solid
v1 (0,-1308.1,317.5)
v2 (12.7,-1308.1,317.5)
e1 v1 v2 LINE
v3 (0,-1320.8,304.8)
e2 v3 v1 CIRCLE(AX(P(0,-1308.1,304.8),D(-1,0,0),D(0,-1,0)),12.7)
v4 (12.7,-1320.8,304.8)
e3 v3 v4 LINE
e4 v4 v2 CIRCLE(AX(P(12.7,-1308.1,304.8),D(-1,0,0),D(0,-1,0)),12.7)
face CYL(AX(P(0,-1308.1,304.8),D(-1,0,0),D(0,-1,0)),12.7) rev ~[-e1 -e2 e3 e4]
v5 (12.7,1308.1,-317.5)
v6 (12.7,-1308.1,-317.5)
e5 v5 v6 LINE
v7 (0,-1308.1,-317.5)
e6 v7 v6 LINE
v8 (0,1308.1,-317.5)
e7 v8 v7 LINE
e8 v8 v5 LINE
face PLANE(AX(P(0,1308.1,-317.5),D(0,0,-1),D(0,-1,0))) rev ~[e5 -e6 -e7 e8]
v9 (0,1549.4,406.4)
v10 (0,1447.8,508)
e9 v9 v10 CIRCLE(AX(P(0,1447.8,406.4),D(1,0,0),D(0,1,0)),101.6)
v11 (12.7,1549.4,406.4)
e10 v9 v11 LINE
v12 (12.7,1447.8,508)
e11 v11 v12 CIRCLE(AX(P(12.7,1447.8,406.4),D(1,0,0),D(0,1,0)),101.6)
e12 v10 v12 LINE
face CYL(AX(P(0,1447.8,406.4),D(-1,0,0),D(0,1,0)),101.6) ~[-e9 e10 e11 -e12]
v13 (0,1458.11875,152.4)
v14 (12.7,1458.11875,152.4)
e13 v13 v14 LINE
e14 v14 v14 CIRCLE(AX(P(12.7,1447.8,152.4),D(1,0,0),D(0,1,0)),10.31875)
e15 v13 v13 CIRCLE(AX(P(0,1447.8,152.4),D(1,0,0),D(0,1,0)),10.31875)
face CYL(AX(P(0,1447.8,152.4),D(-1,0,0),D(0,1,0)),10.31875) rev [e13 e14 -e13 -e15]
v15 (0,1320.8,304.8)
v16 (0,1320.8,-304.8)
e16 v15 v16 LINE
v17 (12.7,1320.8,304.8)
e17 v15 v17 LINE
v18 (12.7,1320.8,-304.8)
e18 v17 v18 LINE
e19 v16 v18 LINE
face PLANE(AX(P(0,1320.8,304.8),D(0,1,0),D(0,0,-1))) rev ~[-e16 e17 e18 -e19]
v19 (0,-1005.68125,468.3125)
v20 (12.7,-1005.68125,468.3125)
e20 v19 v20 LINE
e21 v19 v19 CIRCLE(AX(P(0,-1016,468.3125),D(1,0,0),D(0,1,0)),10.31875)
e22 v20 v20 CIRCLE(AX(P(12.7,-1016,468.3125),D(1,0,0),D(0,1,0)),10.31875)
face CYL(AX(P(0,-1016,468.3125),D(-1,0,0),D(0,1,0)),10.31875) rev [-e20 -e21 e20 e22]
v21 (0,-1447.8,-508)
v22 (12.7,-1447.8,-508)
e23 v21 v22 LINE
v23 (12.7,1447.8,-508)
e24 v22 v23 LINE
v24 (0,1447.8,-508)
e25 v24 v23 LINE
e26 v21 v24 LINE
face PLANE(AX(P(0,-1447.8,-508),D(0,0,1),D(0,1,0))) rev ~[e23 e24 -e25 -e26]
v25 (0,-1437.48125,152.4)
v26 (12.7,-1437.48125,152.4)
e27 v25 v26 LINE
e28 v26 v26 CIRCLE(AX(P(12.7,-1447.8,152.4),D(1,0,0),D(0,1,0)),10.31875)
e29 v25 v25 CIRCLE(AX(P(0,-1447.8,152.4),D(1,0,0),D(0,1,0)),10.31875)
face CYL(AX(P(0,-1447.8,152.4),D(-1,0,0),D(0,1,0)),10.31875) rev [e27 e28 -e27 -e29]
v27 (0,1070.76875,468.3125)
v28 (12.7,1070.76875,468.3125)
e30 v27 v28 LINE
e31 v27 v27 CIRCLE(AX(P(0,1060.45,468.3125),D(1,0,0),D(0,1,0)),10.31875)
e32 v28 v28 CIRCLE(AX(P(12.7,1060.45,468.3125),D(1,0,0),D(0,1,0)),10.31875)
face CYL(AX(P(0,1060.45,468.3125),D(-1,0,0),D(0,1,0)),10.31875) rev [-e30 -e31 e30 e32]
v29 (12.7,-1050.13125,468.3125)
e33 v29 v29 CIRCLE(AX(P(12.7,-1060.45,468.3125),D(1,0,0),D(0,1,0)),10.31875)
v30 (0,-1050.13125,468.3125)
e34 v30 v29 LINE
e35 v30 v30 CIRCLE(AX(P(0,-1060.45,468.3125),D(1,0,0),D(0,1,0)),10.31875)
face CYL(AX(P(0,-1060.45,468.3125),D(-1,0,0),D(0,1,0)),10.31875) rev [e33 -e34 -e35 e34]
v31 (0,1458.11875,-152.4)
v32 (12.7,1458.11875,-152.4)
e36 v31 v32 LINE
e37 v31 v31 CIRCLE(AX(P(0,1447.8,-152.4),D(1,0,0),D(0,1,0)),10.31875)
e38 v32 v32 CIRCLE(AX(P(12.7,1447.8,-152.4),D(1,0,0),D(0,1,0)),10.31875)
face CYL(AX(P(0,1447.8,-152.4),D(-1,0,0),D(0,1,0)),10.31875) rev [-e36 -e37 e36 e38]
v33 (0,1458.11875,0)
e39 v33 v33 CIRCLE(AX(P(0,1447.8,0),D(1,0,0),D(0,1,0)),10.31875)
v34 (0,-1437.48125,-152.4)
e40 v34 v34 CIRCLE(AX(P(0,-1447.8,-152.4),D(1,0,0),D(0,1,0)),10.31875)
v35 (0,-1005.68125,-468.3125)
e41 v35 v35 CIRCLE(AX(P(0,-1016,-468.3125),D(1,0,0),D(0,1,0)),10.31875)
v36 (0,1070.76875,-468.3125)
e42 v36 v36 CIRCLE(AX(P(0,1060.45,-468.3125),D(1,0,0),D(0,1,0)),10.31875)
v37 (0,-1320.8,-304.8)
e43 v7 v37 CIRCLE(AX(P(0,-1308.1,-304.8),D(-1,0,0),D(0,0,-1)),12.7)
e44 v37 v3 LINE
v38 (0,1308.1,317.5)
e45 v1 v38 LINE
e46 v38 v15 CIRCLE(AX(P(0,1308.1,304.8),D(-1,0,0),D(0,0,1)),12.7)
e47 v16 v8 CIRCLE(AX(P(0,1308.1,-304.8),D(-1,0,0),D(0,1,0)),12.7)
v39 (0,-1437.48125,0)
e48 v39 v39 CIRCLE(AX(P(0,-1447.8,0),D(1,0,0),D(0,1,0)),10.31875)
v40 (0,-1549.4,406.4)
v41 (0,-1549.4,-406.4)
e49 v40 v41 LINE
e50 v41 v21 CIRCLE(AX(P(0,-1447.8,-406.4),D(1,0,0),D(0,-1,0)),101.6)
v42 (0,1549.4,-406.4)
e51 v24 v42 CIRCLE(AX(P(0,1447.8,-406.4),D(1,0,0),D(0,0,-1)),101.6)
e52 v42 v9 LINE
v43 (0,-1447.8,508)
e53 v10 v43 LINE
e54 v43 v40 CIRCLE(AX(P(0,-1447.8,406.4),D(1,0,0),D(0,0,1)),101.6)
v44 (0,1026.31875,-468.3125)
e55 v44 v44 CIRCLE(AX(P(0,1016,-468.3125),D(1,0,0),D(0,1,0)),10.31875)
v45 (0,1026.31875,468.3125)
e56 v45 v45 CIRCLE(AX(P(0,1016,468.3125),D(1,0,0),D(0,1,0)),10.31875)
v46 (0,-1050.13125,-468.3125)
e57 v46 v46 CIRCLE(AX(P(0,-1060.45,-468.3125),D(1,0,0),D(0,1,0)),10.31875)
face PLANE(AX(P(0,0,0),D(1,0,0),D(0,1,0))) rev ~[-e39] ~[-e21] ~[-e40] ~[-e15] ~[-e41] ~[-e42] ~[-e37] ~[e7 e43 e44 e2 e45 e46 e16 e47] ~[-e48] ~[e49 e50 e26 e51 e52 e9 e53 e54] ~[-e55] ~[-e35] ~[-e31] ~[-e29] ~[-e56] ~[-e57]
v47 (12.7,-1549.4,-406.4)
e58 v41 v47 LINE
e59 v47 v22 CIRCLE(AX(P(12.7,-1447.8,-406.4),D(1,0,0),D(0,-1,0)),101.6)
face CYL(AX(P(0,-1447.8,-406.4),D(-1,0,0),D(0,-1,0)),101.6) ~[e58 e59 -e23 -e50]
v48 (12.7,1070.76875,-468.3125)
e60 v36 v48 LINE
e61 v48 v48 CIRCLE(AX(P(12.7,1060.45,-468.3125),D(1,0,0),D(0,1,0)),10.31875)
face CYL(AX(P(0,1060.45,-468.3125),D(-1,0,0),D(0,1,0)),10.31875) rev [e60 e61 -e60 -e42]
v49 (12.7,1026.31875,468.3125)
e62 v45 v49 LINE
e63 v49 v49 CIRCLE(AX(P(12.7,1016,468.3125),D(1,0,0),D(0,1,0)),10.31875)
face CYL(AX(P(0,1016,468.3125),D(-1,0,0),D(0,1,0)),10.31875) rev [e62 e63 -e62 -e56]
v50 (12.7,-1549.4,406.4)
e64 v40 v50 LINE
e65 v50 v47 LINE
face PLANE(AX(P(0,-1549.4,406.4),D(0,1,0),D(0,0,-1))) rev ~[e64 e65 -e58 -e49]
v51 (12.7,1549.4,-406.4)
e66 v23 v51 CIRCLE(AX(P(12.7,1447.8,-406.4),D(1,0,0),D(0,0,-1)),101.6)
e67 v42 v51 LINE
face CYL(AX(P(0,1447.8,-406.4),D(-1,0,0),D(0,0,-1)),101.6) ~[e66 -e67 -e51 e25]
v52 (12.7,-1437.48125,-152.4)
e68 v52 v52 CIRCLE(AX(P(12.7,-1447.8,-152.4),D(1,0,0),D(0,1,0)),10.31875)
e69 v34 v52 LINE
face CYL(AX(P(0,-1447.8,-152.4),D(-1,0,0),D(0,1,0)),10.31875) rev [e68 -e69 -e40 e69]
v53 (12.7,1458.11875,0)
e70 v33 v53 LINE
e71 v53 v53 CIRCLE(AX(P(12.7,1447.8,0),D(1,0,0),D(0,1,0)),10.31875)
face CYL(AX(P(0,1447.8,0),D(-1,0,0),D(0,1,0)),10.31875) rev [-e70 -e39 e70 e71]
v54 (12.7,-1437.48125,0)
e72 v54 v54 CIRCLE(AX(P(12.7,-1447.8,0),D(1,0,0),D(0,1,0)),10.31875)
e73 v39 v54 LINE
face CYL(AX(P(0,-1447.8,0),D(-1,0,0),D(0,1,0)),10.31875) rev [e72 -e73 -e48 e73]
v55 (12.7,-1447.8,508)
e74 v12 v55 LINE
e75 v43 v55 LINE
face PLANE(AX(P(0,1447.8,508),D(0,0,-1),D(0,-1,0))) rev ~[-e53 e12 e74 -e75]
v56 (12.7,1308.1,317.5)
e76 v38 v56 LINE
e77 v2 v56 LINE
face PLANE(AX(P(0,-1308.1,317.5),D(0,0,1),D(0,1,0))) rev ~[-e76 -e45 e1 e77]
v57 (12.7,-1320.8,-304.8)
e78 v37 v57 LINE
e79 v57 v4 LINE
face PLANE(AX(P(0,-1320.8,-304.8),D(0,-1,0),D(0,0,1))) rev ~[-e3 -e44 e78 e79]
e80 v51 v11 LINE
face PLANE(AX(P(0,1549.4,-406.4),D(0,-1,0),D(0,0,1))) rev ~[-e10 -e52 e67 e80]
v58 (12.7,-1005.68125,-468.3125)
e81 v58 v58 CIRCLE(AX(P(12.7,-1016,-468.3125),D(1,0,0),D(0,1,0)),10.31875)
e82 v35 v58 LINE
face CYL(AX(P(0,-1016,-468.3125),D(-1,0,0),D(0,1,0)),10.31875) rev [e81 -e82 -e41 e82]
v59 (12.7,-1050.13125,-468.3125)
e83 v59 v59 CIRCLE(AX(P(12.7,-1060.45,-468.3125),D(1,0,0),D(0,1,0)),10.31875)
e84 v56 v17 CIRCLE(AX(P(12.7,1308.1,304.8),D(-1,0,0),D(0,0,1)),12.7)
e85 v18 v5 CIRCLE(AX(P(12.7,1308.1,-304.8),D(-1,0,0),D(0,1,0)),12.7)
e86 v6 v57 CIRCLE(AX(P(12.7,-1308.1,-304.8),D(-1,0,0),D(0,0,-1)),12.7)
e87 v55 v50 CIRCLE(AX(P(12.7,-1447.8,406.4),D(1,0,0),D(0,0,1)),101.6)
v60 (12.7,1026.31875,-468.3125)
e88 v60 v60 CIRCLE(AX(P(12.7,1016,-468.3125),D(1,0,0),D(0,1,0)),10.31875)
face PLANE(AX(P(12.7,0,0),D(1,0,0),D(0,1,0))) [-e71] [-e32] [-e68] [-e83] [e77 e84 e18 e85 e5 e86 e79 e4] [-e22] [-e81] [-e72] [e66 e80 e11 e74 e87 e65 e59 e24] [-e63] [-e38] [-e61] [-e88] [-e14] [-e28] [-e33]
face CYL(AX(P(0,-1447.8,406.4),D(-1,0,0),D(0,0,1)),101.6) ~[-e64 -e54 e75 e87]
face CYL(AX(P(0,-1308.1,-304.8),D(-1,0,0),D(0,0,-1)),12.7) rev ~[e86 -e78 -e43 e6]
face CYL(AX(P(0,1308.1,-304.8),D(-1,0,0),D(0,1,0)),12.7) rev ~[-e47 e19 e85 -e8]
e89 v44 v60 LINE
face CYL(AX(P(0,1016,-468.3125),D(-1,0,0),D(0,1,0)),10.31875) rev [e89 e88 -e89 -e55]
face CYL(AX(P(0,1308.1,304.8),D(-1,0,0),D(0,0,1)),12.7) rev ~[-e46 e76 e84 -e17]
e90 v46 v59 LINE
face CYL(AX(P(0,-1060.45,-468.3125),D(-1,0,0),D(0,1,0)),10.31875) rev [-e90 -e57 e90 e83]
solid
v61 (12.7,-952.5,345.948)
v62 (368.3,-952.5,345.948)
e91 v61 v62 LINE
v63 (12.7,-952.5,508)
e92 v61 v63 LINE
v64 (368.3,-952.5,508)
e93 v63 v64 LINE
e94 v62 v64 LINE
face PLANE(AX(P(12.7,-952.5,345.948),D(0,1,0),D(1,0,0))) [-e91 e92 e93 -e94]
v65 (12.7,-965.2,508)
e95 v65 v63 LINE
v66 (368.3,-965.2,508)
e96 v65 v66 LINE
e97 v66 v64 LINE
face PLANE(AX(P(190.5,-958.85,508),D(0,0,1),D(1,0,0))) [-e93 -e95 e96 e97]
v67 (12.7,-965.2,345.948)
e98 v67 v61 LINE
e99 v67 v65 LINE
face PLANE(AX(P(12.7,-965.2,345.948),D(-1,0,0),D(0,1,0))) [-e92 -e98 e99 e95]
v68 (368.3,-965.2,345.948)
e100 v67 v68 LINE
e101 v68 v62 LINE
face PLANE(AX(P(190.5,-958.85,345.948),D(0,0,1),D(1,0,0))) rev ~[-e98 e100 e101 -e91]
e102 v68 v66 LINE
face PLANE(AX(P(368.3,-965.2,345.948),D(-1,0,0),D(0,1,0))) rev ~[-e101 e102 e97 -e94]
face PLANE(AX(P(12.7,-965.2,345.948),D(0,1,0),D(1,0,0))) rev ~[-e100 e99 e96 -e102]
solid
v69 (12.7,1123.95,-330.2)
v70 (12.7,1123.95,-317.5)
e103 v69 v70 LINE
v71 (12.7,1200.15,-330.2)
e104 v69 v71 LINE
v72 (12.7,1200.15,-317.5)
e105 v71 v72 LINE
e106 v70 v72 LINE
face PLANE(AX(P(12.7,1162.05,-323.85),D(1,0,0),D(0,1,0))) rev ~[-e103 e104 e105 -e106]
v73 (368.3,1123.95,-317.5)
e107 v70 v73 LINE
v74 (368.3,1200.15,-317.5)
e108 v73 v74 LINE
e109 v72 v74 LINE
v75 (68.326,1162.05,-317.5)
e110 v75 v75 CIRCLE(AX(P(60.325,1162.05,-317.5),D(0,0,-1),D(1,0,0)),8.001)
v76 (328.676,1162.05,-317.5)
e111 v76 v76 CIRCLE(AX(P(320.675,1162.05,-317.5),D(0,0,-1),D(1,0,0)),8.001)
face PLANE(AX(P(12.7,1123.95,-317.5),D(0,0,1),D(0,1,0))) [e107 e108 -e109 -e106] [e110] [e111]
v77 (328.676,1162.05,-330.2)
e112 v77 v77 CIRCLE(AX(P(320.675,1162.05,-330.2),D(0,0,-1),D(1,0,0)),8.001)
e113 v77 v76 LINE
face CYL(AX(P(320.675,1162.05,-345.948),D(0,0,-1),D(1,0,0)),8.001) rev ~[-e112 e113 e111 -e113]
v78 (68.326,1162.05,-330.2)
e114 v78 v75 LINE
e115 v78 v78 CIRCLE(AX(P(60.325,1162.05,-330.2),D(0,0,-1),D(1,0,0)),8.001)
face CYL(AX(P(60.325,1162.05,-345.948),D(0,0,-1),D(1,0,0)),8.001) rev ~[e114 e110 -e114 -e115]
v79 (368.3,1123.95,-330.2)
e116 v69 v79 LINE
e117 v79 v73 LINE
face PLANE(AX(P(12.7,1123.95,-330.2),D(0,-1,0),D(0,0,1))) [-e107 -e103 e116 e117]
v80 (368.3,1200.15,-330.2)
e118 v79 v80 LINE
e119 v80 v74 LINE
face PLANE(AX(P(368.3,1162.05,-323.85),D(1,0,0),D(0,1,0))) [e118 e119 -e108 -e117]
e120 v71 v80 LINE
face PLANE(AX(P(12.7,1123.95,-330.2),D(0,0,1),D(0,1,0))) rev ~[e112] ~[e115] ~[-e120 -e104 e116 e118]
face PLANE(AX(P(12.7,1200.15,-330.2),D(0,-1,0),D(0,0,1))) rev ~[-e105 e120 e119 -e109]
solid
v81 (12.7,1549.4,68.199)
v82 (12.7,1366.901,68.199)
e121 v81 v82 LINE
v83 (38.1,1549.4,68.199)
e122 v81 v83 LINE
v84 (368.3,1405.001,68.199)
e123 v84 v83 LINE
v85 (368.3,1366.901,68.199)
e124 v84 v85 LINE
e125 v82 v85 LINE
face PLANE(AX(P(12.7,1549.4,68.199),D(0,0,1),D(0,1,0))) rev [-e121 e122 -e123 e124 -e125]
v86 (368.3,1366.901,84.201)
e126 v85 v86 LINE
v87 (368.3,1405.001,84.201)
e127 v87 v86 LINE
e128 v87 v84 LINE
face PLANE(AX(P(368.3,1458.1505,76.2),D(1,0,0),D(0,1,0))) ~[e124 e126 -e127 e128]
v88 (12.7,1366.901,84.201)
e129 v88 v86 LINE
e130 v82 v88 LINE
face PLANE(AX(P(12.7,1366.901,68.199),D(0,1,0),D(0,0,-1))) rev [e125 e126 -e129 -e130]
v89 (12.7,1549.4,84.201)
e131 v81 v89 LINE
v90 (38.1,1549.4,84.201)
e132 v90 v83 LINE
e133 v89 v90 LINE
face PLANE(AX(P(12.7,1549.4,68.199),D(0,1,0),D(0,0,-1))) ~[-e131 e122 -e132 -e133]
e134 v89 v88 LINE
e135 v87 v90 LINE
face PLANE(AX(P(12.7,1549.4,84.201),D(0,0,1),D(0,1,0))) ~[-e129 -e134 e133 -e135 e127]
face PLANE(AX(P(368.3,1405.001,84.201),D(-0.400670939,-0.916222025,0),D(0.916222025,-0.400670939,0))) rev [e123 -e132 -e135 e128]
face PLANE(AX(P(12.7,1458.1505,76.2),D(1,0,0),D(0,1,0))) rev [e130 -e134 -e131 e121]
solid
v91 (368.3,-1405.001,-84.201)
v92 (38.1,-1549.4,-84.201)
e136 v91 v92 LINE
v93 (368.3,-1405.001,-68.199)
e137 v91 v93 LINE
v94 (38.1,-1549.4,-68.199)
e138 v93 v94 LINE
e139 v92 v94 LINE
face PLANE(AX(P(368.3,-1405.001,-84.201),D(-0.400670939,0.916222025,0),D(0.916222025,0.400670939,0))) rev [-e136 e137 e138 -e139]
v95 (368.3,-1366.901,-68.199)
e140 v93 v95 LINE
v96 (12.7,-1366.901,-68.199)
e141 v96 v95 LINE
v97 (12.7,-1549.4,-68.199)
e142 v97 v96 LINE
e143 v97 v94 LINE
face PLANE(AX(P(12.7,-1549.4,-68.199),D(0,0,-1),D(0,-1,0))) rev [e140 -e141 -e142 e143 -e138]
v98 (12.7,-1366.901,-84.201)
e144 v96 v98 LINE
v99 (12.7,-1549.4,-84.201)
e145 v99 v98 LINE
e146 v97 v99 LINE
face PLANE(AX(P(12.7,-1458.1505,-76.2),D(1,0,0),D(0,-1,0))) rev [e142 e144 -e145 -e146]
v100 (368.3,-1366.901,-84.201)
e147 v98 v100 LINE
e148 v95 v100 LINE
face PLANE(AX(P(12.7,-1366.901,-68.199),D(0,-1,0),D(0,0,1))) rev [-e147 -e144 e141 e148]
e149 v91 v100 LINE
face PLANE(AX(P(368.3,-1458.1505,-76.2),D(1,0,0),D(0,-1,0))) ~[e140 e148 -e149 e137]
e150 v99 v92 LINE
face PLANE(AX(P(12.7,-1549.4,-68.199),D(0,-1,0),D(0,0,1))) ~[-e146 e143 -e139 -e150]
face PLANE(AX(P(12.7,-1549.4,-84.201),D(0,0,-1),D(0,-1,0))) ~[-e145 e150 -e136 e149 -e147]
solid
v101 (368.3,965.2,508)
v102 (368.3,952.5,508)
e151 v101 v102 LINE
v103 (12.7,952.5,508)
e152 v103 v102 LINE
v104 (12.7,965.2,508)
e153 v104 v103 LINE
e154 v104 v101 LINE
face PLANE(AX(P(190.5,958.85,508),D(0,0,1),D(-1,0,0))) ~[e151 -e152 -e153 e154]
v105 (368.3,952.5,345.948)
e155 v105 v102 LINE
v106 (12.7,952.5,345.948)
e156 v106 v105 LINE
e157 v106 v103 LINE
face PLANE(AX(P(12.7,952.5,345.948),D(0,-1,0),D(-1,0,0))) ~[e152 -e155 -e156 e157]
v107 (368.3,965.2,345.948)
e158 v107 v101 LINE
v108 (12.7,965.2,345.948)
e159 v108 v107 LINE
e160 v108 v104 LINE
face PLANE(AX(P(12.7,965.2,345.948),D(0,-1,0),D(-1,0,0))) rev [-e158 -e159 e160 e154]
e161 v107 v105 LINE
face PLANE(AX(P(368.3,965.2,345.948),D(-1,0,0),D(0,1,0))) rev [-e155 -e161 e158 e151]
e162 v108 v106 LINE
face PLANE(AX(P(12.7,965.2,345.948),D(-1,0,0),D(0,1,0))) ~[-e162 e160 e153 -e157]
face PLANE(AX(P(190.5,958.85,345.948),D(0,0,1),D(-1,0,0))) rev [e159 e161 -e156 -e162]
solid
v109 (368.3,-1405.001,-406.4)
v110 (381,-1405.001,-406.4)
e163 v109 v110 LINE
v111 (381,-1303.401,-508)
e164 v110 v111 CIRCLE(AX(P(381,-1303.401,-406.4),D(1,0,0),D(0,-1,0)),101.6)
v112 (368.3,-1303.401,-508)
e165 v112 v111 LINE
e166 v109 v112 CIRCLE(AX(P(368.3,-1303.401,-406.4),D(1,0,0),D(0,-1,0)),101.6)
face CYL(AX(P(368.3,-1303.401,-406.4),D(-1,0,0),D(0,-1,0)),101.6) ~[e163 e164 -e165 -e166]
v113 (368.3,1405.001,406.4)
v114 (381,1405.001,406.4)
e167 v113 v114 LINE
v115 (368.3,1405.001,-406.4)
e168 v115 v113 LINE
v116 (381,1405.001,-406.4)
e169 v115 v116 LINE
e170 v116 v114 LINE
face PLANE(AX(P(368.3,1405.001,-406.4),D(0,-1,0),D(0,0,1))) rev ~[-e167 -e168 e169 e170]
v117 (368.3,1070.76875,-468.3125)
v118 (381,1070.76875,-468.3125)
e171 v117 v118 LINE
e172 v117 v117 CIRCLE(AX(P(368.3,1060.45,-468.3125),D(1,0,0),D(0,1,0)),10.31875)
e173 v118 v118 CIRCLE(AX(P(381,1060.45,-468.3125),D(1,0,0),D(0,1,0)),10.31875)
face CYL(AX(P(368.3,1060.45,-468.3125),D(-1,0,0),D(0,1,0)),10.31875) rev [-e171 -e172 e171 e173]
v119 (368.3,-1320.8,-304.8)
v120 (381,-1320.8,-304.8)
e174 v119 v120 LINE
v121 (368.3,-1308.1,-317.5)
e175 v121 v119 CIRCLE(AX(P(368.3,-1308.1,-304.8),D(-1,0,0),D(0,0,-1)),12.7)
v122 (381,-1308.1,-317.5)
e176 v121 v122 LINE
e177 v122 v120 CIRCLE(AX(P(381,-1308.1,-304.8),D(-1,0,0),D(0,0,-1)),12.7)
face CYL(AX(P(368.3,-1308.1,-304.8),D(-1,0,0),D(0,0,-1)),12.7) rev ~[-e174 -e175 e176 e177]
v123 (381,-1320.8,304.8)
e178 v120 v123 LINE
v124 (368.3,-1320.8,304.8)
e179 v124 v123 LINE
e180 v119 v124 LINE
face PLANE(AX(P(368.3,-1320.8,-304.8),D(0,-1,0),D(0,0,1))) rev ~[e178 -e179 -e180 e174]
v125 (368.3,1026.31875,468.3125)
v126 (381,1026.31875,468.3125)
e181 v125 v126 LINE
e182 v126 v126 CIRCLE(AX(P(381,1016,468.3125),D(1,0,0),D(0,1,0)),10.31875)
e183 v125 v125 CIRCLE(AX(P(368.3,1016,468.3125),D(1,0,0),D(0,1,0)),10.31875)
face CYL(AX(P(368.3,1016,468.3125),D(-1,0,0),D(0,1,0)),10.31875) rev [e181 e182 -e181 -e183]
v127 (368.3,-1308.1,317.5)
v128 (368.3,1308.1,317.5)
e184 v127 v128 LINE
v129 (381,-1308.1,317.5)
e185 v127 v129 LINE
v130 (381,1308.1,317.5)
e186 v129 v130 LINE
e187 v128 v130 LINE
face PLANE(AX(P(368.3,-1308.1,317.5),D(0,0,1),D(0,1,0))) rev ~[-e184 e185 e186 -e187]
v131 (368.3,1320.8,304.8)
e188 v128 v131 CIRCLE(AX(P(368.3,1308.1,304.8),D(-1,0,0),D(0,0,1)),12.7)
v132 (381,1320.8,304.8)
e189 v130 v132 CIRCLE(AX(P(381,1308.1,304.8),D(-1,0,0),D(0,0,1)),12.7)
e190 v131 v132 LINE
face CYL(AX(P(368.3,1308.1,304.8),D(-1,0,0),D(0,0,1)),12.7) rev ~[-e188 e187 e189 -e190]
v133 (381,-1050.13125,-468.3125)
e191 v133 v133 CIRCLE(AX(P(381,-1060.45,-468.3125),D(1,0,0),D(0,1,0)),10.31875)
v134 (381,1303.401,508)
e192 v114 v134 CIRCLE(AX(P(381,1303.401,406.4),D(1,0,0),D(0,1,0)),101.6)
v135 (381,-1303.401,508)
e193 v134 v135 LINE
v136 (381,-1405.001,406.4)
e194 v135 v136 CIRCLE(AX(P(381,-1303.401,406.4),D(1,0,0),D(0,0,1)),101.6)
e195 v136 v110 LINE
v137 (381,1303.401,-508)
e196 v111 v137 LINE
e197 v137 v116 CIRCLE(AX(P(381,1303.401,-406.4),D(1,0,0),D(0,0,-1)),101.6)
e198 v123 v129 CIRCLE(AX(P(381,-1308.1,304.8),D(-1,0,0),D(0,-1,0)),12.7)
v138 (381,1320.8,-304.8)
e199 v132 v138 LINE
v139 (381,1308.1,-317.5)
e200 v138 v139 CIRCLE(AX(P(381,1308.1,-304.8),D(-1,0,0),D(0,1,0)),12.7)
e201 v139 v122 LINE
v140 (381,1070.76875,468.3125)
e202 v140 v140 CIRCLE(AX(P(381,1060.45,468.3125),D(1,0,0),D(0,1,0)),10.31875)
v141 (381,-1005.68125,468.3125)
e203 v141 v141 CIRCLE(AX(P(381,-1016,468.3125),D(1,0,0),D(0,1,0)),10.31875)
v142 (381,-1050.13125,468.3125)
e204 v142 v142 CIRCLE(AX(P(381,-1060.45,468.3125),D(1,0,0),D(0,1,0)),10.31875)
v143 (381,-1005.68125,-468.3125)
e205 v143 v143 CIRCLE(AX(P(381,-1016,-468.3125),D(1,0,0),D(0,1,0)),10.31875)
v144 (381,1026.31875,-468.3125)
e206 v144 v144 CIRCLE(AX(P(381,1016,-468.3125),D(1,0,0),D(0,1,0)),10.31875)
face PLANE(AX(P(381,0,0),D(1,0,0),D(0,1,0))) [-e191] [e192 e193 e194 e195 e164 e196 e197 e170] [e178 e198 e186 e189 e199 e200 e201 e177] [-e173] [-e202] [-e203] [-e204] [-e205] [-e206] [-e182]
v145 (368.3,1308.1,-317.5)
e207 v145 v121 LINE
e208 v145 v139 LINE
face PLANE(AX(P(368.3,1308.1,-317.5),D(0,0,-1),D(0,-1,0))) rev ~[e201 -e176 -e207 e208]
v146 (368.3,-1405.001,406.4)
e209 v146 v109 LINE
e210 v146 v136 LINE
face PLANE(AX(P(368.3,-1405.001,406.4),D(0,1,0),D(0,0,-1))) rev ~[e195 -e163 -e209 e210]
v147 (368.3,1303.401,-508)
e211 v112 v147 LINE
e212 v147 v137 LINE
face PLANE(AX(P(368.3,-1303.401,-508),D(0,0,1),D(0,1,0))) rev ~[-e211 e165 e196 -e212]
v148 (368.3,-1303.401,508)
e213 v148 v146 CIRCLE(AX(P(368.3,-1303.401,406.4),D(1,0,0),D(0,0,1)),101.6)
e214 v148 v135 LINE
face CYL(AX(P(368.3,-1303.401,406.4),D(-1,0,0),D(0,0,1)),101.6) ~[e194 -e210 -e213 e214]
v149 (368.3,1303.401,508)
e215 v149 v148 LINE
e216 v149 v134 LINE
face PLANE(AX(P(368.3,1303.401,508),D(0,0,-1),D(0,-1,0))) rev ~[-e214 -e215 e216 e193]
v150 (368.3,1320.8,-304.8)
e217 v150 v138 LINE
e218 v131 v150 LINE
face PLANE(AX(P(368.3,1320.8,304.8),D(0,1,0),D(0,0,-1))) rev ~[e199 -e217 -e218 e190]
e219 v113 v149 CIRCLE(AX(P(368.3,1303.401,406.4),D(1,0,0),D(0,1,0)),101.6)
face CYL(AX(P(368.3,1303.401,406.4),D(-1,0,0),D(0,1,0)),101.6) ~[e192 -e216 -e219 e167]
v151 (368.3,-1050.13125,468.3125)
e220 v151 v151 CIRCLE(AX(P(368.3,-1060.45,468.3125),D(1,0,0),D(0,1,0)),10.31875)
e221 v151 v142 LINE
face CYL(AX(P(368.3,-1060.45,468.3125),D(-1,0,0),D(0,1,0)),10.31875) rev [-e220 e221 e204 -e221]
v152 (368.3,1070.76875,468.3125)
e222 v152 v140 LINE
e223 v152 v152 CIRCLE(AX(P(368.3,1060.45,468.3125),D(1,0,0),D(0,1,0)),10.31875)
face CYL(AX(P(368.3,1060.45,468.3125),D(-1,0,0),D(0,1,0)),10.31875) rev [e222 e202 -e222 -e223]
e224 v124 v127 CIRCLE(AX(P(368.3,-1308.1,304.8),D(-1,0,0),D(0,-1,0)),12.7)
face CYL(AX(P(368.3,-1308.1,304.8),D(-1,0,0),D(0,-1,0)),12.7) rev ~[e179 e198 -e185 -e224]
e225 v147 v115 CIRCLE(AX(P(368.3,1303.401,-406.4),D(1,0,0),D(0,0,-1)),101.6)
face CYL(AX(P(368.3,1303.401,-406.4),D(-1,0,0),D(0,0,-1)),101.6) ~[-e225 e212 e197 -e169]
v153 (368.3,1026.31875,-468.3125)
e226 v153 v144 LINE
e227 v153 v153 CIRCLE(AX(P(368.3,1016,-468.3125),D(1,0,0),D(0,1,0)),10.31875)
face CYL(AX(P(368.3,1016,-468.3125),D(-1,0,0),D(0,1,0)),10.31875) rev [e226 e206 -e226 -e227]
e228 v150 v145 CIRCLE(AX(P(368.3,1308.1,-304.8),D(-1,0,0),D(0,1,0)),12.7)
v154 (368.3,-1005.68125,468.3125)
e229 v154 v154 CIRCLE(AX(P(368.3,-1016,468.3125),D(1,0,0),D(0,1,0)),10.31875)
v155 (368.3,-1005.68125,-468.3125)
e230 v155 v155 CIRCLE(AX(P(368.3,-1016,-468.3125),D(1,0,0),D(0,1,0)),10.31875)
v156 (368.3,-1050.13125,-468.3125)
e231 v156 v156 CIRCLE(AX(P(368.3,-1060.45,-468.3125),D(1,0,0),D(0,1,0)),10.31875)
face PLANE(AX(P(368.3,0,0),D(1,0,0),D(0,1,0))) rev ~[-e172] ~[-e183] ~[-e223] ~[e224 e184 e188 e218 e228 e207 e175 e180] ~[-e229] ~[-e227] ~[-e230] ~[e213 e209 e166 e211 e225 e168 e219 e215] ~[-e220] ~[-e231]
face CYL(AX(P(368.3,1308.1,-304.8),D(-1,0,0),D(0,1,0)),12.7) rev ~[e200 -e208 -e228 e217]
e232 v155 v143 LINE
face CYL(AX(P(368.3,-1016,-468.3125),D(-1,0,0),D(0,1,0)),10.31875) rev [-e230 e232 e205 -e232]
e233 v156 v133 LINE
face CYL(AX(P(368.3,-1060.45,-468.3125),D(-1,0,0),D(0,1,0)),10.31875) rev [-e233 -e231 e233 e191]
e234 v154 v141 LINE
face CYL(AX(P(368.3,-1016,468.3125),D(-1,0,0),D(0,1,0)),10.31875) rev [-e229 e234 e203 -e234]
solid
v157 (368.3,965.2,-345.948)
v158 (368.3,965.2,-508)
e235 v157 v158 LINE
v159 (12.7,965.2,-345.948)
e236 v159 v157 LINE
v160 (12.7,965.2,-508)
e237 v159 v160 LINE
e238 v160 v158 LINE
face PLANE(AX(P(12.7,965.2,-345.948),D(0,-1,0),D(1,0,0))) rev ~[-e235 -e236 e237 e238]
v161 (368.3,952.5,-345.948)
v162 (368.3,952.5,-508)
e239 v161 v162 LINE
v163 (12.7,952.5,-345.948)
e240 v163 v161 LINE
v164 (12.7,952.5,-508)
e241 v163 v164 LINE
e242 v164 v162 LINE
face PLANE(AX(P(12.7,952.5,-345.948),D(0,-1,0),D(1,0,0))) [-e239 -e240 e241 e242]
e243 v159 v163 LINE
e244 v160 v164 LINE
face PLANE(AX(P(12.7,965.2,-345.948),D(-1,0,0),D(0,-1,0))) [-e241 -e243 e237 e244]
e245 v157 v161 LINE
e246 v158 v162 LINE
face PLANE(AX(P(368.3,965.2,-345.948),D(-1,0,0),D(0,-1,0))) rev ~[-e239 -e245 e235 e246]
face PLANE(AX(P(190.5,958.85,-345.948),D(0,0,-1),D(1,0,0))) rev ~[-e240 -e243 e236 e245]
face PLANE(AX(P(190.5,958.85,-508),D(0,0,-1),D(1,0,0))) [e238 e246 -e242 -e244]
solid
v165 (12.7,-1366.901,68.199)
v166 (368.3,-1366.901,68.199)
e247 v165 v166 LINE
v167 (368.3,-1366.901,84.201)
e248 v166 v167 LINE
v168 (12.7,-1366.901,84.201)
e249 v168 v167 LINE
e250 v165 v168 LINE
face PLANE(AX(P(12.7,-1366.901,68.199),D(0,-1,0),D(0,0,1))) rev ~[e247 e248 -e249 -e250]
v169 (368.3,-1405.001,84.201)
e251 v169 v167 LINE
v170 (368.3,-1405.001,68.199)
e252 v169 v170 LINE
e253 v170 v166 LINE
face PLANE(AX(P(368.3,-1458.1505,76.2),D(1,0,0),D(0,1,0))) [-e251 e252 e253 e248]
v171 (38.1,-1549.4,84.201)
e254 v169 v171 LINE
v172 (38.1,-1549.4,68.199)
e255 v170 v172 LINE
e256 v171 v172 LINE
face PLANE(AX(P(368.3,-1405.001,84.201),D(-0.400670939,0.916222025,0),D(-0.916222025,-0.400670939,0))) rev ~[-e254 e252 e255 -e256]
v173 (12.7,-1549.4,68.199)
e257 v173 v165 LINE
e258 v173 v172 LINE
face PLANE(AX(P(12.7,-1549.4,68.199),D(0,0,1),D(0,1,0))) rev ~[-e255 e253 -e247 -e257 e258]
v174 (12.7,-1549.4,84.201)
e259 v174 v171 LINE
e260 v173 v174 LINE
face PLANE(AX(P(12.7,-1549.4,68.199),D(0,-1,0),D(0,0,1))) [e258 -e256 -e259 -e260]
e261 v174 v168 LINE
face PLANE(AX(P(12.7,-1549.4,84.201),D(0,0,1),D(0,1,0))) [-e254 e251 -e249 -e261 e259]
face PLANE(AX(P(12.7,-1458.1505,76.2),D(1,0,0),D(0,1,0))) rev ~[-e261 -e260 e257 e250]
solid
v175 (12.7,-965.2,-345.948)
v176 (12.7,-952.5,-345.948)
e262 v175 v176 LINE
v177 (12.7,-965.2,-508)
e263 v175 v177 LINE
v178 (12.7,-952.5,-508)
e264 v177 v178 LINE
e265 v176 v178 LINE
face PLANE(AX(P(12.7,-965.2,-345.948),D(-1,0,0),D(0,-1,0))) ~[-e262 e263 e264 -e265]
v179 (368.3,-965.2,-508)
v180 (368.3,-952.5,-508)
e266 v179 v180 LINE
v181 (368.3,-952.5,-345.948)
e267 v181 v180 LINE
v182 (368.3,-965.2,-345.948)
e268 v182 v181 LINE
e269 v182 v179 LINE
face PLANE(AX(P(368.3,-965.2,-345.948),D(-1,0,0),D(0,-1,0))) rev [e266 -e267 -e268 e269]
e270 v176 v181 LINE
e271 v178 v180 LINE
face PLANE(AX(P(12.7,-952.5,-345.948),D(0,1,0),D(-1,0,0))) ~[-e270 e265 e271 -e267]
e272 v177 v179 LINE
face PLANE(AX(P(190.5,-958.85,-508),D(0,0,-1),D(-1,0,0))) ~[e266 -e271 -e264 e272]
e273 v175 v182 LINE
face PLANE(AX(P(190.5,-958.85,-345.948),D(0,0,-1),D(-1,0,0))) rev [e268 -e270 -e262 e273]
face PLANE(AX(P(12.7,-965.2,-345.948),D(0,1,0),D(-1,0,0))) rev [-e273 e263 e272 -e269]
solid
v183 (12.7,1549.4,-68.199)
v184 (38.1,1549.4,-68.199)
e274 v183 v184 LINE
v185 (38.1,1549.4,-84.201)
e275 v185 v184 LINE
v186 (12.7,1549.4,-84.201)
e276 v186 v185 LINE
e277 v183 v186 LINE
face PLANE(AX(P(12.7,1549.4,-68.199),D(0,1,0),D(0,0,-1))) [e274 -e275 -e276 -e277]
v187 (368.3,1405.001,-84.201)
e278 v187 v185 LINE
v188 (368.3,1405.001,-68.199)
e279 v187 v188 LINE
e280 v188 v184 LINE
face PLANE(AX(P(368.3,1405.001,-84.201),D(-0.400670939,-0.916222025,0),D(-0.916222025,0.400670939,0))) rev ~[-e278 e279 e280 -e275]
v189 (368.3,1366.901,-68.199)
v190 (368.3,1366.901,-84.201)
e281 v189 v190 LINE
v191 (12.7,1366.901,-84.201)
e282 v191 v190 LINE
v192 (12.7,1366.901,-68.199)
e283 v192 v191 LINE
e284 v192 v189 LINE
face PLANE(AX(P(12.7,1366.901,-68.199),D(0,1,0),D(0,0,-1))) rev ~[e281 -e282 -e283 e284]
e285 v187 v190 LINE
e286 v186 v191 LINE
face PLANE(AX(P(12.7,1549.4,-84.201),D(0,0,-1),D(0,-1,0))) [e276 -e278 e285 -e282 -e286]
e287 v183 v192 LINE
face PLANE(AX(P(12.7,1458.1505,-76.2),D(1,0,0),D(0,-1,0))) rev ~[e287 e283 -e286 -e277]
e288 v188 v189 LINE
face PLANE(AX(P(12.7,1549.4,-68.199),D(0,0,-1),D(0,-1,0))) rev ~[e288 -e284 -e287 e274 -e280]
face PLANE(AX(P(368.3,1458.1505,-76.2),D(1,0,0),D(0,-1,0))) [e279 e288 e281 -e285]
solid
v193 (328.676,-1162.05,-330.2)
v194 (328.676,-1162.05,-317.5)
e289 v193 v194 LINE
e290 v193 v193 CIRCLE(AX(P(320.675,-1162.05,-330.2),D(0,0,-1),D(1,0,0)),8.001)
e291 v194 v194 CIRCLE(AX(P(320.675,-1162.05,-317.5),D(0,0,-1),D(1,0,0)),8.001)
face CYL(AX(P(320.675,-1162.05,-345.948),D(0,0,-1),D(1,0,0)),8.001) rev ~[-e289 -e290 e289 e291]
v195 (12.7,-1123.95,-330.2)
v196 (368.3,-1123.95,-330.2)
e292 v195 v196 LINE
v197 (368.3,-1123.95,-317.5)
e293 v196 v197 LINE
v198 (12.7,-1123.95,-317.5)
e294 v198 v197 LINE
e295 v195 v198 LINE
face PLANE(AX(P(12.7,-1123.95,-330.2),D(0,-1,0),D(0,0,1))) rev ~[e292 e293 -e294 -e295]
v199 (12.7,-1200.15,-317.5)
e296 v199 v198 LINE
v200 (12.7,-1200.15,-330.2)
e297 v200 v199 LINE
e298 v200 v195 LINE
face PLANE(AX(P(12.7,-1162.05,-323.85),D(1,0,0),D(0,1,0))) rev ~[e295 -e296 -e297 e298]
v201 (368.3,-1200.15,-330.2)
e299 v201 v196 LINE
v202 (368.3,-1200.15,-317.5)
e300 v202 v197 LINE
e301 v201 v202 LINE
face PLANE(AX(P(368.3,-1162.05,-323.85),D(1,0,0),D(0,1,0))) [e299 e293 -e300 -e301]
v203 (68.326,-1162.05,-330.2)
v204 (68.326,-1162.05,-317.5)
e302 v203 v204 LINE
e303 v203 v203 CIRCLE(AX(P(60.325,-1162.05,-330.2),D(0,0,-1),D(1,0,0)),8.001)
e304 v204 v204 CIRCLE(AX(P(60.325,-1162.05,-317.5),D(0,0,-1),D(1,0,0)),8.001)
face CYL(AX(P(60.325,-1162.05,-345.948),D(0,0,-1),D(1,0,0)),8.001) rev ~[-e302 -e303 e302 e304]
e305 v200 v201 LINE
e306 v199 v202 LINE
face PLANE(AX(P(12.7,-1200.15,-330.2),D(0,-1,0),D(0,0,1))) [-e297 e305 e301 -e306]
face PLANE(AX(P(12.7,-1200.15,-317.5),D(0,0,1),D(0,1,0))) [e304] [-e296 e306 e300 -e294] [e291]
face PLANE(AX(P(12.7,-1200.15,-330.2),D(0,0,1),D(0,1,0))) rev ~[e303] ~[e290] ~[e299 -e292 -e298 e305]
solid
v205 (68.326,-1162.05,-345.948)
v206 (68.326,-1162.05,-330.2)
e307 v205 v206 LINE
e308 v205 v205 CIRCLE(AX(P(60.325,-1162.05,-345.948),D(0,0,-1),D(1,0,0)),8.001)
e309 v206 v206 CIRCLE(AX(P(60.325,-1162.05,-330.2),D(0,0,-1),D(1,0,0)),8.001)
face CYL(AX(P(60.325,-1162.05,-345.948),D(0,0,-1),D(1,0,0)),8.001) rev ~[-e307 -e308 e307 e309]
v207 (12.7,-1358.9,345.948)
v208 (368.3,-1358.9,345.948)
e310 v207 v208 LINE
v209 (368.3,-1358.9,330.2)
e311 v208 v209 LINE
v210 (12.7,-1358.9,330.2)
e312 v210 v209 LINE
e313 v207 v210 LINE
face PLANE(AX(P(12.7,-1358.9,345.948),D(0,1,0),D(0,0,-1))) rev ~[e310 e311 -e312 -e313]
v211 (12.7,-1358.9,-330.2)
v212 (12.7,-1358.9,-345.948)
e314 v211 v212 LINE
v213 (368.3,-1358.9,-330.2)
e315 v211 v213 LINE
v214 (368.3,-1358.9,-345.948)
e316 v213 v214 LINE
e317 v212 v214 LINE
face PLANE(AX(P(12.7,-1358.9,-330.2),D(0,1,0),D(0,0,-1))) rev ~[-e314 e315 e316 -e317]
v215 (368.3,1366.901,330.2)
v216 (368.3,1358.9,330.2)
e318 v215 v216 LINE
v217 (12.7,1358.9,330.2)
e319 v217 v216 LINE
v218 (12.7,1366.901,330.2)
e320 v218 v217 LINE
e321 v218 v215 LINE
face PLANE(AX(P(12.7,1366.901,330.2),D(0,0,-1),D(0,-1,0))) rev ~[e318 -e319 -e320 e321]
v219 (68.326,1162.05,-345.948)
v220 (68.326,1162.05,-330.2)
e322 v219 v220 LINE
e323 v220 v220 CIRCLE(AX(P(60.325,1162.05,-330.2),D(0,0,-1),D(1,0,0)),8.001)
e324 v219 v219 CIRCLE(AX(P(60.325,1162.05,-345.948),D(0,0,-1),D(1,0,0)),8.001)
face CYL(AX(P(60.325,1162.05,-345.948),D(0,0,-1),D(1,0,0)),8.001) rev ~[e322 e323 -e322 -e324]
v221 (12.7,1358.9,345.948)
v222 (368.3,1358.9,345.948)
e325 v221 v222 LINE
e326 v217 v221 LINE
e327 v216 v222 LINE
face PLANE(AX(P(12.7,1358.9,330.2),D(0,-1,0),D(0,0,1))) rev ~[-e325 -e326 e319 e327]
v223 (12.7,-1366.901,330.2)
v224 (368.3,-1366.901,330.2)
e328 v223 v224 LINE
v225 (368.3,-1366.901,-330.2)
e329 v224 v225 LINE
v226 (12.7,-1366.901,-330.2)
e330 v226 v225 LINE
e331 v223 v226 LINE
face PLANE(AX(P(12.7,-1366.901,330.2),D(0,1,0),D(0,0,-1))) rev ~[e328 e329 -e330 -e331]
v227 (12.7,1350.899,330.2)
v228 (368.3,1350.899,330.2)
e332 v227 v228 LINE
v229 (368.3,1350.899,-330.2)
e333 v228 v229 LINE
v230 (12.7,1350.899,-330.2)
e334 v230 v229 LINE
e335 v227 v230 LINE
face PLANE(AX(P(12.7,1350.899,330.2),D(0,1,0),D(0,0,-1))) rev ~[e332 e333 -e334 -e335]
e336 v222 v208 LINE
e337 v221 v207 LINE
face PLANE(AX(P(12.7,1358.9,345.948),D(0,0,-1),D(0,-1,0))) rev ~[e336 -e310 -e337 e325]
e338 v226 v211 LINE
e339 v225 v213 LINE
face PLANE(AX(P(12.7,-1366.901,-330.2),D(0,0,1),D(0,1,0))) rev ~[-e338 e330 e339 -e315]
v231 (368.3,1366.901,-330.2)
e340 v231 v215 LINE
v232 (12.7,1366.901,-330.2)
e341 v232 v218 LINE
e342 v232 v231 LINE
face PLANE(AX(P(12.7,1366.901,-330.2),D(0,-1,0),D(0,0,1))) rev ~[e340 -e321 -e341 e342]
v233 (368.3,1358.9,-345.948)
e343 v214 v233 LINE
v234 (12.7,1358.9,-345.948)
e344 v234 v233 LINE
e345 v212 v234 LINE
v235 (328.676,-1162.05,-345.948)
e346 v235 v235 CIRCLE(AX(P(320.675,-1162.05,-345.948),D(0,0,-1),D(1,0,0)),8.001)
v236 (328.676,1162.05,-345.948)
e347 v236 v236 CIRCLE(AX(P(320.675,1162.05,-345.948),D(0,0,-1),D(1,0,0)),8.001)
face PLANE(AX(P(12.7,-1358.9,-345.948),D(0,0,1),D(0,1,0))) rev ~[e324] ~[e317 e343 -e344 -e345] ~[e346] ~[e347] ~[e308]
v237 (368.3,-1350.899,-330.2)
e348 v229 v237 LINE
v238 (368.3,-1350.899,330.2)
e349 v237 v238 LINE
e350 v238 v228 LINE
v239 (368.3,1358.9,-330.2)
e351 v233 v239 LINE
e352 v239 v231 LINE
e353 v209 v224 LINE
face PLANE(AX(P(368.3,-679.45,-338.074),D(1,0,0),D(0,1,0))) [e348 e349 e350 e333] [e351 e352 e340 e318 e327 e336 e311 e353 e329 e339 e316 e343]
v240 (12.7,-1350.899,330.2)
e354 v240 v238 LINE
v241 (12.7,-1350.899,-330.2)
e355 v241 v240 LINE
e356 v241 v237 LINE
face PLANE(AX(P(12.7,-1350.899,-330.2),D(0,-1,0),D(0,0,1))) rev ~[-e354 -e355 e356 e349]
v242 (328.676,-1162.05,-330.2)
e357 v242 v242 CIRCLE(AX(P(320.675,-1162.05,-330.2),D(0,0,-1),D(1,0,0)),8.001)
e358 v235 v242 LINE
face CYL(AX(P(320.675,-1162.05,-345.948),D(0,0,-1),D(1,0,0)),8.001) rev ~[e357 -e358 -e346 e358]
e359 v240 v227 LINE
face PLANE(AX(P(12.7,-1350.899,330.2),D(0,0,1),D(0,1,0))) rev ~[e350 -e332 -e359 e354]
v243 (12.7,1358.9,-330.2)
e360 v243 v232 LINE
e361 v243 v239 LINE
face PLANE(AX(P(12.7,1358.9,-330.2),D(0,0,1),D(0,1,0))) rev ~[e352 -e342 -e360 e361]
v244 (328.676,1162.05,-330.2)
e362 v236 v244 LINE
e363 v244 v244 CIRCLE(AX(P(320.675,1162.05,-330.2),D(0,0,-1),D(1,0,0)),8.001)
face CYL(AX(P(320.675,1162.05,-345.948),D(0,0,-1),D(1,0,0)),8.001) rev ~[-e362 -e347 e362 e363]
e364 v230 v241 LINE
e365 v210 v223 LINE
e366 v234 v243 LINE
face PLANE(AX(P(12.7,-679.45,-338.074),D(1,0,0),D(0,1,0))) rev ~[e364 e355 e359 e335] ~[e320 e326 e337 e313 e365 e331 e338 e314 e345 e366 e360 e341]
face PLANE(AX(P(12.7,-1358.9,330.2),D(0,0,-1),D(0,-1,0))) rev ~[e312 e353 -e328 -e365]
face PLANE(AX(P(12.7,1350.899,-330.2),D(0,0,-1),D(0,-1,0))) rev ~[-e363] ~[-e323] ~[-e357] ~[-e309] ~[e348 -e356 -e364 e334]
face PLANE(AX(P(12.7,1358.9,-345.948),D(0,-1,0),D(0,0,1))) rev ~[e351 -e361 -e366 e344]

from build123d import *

# Parameters (mm, degrees)
F0_R      = 10.31875
F1_DEPTH  = 12.7
F3_DEPTH  = 355.6
F2_W      = 76.2
F2_H      = 12.7
F4_DEPTH  = 355.6
F5_R      = 8.001
F6_DEPTH  = 152.4
F7_W      = 182.499
F7_H      = 16.002
F8_DEPTH  = 355.6
F9_R      = 10.31875
F10_DEPTH = 12.7
F12_DEPTH = 592.202
F15_R     = 8.001
F16_DEPTH = 25.4
F17_R     = 8.001
F18_DEPTH = 25.4
F19_W     = 355.6
F19_H     = 12.7
F20_DEPTH = 162.052


with BuildPart() as f1:
    # F0 (on Right) → F1 (new body)
    with BuildSketch(Plane.YZ):
        with BuildLine():
            Line((1447.8, 508), (-1447.8, 508))
            ThreePointArc((-1447.8, 508), (-1519.6420489686, 478.2420489686), (-1549.4, 406.4))
            Line((-1549.4, 406.4), (-1549.4, -406.4))
            ThreePointArc((-1549.4, -406.4), (-1519.6420489686, -478.2420489686), (-1447.8, -508))
            Line((-1447.8, -508), (1447.8, -508))
            ThreePointArc((1447.8, -508), (1519.6420489686, -478.2420489686), (1549.4, -406.4))
            Line((1549.4, -406.4), (1549.4, 406.4))
            ThreePointArc((1549.4, 406.4), (1519.6420489686, 478.2420489686), (1447.8, 508))
        make_face()
        with Locations((-1060.45, -468.3125)):
            Circle(F0_R, mode=Mode.SUBTRACT)
        with Locations((-1016, -468.3125)):
            Circle(F0_R, mode=Mode.SUBTRACT)
        with Locations((-1447.8, -152.4)):
            Circle(F0_R, mode=Mode.SUBTRACT)
        with Locations((1016, -468.3125)):
            Circle(F0_R, mode=Mode.SUBTRACT)
        with Locations((1060.45, -468.3125)):
            Circle(F0_R, mode=Mode.SUBTRACT)
        with Locations((1447.8, -152.4)):
            Circle(F0_R, mode=Mode.SUBTRACT)
        with Locations((-1447.8, 0)):
            Circle(F0_R, mode=Mode.SUBTRACT)
        with Locations((-1447.8, 152.4)):
            Circle(F0_R, mode=Mode.SUBTRACT)
        with Locations((-1060.45, 468.3125)):
            Circle(F0_R, mode=Mode.SUBTRACT)
        with Locations((-1016, 468.3125)):
            Circle(F0_R, mode=Mode.SUBTRACT)
        with BuildLine():
            ThreePointArc((-1320.8, 304.8), (-1317.0802561211, 313.7802561211), (-1308.1, 317.5))
            Line((-1308.1, 317.5), (1308.1, 317.5))
            ThreePointArc((1308.1, 317.5), (1317.0802561211, 313.7802561211), (1320.8, 304.8))
            Line((1320.8, 304.8), (1320.8, -304.8))
            ThreePointArc((1320.8, -304.8), (1317.0802561211, -313.7802561211), (1308.1, -317.5))
            Line((1308.1, -317.5), (-1308.1, -317.5))
            ThreePointArc((-1308.1, -317.5), (-1317.0802561211, -313.7802561211), (-1320.8, -304.8))
            Line((-1320.8, -304.8), (-1320.8, 304.8))
        make_face(mode=Mode.SUBTRACT)
        with Locations((1447.8, 0)):
            Circle(F0_R, mode=Mode.SUBTRACT)
        with Locations((1447.8, 152.4)):
            Circle(F0_R, mode=Mode.SUBTRACT)
        with Locations((1016, 468.3125)):
            Circle(F0_R, mode=Mode.SUBTRACT)
        with Locations((1060.45, 468.3125)):
            Circle(F0_R, mode=Mode.SUBTRACT)
    extrude(amount=F1_DEPTH)

    # F15 (on face) → F16 (cut)
    with BuildSketch(Plane.XY.offset(-317.5)):
        with Locations((320.675, 1162.05)):
            Circle(F15_R)
        with Locations((60.325, 1162.05)):
            Circle(F15_R)
    extrude(amount=-F16_DEPTH, mode=Mode.SUBTRACT)

    # F17 (on face) → F18 (cut)
    with BuildSketch(Plane.XY.offset(-317.5)):
        with Locations((320.675, -1162.05)):
            Circle(F17_R)
        with Locations((60.325, -1162.05)):
            Circle(F17_R)
    extrude(amount=-F18_DEPTH, mode=Mode.SUBTRACT)


with BuildPart() as f3:
    # F2 (on face) → F3 (new body)
    with BuildSketch(Plane.YZ.offset(12.7)):
        Polygon((-1123.95, -330.2), (-1200.15, -330.2), (-1350.899, -330.2), (-1358.9, -330.2), (-1358.9, -345.948), (0, -345.948), (0, -330.2), align=None)
        Polygon((-1358.9, -330.2), (-1350.899, -330.2), (-1350.899, 0), (-1366.901, 0), (-1366.901, -330.2), align=None)
        Polygon((1123.95, -330.2), (0, -330.2), (0, -345.948), (1358.9, -345.948), (1358.9, -330.2), (1350.899, -330.2), (1200.15, -330.2), align=None)
        Polygon((-1366.901, 0), (-1350.899, 0), (-1350.899, 330.2), (-1358.9, 330.2), (-1366.901, 330.2), align=None)
        Polygon((-1358.9, 330.2), (-1350.899, 330.2), (0, 330.2), (1350.899, 330.2), (1358.9, 330.2), (1358.9, 345.948), (0, 345.948), (-1358.9, 345.948), align=None)
        Polygon((1350.899, -330.2), (1358.9, -330.2), (1366.901, -330.2), (1366.901, 0), (1350.899, 0), align=None)
        Polygon((1358.9, 330.2), (1350.899, 330.2), (1350.899, 0), (1366.901, 0), (1366.901, 330.2), align=None)
    extrude(amount=F3_DEPTH)


with BuildPart() as f4:
    # F2 (on face) → F4 (new body)
    with BuildSketch(Plane.YZ.offset(12.7)):
        with Locations((-1162.05, -323.85)):
            Rectangle(F2_W, F2_H)
    extrude(amount=F4_DEPTH)


with BuildPart() as f4b:
    # F2 (on face) → F4, piece 2 (new body)
    with BuildSketch(Plane.YZ.offset(12.7)):
        with Locations((1162.05, -323.85)):
            Rectangle(F2_W, F2_H)
    extrude(amount=F4_DEPTH)


with BuildPart() as f6_tool:
    # F5 (on face) → F6 (new body)
    with BuildSketch(Plane(origin=(0, 0, -345.948), x_dir=(1, 0, 0), z_dir=(0, 0, -1))):
        with Locations((320.675, 1162.05)):
            Circle(F5_R)
        with Locations((60.325, 1162.05)):
            Circle(F5_R)
        with Locations((60.325, -1162.05)):
            Circle(F5_R)
        with Locations((320.675, -1162.05)):
            Circle(F5_R)
    extrude(amount=-F6_DEPTH)


with BuildPart() as f3_1:
    add(f3.part)

    # F6: cut by f6_tool
    add(f6_tool.part, mode=Mode.SUBTRACT)


with BuildPart() as f4_1:
    add(f4.part)

    # F6: cut by f6_tool
    add(f6_tool.part, mode=Mode.SUBTRACT)


with BuildPart() as f4b_1:
    add(f4b.part)

    # F6: cut by f6_tool
    add(f6_tool.part, mode=Mode.SUBTRACT)


with BuildPart() as f8:
    # F7 (on face) → F8 (new body)
    with BuildSketch(Plane.YZ.offset(12.7)):
        with Locations((-1458.1505, 76.2)):
            Rectangle(F7_W, F7_H)
    extrude(amount=F8_DEPTH)

    # F11 (on face) → F12 (cut, through all)
    with BuildSketch(Plane.XY.offset(84.201)):
        Polygon((38.1, -1549.4), (368.3, -1549.4), (368.3, -1405.001), align=None)
    extrude(amount=-F12_DEPTH, mode=Mode.SUBTRACT)


with BuildPart() as f10:
    # F9 (on face) → F10 (new body)
    with BuildSketch(Plane.YZ.offset(368.3)):
        with BuildLine():
            ThreePointArc((1405.001, 406.4), (1375.2430489686, 478.2420489686), (1303.401, 508))
            Line((1303.401, 508), (-1303.401, 508))
            ThreePointArc((-1303.401, 508), (-1375.2430489686, 478.2420489686), (-1405.001, 406.4))
            Line((-1405.001, 406.4), (-1405.001, -406.4))
            ThreePointArc((-1405.001, -406.4), (-1375.2430489686, -478.2420489686), (-1303.401, -508))
            Line((-1303.401, -508), (1303.401, -508))
            ThreePointArc((1303.401, -508), (1375.2430489686, -478.2420489686), (1405.001, -406.4))
            Line((1405.001, -406.4), (1405.001, 406.4))
        make_face()
        with Locations((-1060.45, -468.3125)):
            Circle(F9_R, mode=Mode.SUBTRACT)
        with Locations((-1016, -468.3125)):
            Circle(F9_R, mode=Mode.SUBTRACT)
        with Locations((1016, -468.3125)):
            Circle(F9_R, mode=Mode.SUBTRACT)
        with Locations((1060.45, -468.3125)):
            Circle(F9_R, mode=Mode.SUBTRACT)
        with Locations((-1060.45, 468.3125)):
            Circle(F9_R, mode=Mode.SUBTRACT)
        with Locations((-1016, 468.3125)):
            Circle(F9_R, mode=Mode.SUBTRACT)
        with BuildLine():
            ThreePointArc((-1320.8, 304.8), (-1317.0802561211, 313.7802561211), (-1308.1, 317.5))
            Line((-1308.1, 317.5), (1308.1, 317.5))
            ThreePointArc((1308.1, 317.5), (1317.0802561211, 313.7802561211), (1320.8, 304.8))
            Line((1320.8, 304.8), (1320.8, -304.8))
            ThreePointArc((1320.8, -304.8), (1317.0802561211, -313.7802561211), (1308.1, -317.5))
            Line((1308.1, -317.5), (1200.15, -317.5))
            Line((1200.15, -317.5), (1123.95, -317.5))
            Line((1123.95, -317.5), (-1123.95, -317.5))
            Line((-1123.95, -317.5), (-1200.15, -317.5))
            Line((-1200.15, -317.5), (-1308.1, -317.5))
            ThreePointArc((-1308.1, -317.5), (-1317.0802561211, -313.7802561211), (-1320.8, -304.8))
            Line((-1320.8, -304.8), (-1320.8, 304.8))
        make_face(mode=Mode.SUBTRACT)
        with Locations((1016, 468.3125)):
            Circle(F9_R, mode=Mode.SUBTRACT)
        with Locations((1060.45, 468.3125)):
            Circle(F9_R, mode=Mode.SUBTRACT)
    extrude(amount=F10_DEPTH)


with BuildPart() as f13_1:
    # F13: instance of F8
    add(f8.part.mirror(Plane.XY))


with BuildPart() as f14_1:
    # F14: instance of F8
    add(f8.part.mirror(Plane.XZ))


with BuildPart() as f14_2:
    # F14: instance of F13_1
    add(f13_1.part.mirror(Plane.XZ))


with BuildPart() as f20:
    # F19 (on face) → F20 (new body, through all)
    with BuildSketch(Plane.XY.offset(345.948)):
        with Locations((190.5, -958.85)):
            Rectangle(F19_W, F19_H)
    extrude(amount=F20_DEPTH)


with BuildPart() as f21_1:
    # F21: instance of F20
    add(f20.part.mirror(Plane.XZ))


with BuildPart() as f22_1:
    # F22: instance of F20
    add(f20.part.mirror(Plane.XY))


with BuildPart() as f22_2:
    # F22: instance of F21_1
    add(f21_1.part.mirror(Plane.XY))


solid = Compound([f1.part, f3_1.part, f4_1.part, f4b_1.part, f8.part, f10.part, f13_1.part, f14_1.part, f14_2.part, f20.part, f21_1.part, f22_1.part, f22_2.part])
